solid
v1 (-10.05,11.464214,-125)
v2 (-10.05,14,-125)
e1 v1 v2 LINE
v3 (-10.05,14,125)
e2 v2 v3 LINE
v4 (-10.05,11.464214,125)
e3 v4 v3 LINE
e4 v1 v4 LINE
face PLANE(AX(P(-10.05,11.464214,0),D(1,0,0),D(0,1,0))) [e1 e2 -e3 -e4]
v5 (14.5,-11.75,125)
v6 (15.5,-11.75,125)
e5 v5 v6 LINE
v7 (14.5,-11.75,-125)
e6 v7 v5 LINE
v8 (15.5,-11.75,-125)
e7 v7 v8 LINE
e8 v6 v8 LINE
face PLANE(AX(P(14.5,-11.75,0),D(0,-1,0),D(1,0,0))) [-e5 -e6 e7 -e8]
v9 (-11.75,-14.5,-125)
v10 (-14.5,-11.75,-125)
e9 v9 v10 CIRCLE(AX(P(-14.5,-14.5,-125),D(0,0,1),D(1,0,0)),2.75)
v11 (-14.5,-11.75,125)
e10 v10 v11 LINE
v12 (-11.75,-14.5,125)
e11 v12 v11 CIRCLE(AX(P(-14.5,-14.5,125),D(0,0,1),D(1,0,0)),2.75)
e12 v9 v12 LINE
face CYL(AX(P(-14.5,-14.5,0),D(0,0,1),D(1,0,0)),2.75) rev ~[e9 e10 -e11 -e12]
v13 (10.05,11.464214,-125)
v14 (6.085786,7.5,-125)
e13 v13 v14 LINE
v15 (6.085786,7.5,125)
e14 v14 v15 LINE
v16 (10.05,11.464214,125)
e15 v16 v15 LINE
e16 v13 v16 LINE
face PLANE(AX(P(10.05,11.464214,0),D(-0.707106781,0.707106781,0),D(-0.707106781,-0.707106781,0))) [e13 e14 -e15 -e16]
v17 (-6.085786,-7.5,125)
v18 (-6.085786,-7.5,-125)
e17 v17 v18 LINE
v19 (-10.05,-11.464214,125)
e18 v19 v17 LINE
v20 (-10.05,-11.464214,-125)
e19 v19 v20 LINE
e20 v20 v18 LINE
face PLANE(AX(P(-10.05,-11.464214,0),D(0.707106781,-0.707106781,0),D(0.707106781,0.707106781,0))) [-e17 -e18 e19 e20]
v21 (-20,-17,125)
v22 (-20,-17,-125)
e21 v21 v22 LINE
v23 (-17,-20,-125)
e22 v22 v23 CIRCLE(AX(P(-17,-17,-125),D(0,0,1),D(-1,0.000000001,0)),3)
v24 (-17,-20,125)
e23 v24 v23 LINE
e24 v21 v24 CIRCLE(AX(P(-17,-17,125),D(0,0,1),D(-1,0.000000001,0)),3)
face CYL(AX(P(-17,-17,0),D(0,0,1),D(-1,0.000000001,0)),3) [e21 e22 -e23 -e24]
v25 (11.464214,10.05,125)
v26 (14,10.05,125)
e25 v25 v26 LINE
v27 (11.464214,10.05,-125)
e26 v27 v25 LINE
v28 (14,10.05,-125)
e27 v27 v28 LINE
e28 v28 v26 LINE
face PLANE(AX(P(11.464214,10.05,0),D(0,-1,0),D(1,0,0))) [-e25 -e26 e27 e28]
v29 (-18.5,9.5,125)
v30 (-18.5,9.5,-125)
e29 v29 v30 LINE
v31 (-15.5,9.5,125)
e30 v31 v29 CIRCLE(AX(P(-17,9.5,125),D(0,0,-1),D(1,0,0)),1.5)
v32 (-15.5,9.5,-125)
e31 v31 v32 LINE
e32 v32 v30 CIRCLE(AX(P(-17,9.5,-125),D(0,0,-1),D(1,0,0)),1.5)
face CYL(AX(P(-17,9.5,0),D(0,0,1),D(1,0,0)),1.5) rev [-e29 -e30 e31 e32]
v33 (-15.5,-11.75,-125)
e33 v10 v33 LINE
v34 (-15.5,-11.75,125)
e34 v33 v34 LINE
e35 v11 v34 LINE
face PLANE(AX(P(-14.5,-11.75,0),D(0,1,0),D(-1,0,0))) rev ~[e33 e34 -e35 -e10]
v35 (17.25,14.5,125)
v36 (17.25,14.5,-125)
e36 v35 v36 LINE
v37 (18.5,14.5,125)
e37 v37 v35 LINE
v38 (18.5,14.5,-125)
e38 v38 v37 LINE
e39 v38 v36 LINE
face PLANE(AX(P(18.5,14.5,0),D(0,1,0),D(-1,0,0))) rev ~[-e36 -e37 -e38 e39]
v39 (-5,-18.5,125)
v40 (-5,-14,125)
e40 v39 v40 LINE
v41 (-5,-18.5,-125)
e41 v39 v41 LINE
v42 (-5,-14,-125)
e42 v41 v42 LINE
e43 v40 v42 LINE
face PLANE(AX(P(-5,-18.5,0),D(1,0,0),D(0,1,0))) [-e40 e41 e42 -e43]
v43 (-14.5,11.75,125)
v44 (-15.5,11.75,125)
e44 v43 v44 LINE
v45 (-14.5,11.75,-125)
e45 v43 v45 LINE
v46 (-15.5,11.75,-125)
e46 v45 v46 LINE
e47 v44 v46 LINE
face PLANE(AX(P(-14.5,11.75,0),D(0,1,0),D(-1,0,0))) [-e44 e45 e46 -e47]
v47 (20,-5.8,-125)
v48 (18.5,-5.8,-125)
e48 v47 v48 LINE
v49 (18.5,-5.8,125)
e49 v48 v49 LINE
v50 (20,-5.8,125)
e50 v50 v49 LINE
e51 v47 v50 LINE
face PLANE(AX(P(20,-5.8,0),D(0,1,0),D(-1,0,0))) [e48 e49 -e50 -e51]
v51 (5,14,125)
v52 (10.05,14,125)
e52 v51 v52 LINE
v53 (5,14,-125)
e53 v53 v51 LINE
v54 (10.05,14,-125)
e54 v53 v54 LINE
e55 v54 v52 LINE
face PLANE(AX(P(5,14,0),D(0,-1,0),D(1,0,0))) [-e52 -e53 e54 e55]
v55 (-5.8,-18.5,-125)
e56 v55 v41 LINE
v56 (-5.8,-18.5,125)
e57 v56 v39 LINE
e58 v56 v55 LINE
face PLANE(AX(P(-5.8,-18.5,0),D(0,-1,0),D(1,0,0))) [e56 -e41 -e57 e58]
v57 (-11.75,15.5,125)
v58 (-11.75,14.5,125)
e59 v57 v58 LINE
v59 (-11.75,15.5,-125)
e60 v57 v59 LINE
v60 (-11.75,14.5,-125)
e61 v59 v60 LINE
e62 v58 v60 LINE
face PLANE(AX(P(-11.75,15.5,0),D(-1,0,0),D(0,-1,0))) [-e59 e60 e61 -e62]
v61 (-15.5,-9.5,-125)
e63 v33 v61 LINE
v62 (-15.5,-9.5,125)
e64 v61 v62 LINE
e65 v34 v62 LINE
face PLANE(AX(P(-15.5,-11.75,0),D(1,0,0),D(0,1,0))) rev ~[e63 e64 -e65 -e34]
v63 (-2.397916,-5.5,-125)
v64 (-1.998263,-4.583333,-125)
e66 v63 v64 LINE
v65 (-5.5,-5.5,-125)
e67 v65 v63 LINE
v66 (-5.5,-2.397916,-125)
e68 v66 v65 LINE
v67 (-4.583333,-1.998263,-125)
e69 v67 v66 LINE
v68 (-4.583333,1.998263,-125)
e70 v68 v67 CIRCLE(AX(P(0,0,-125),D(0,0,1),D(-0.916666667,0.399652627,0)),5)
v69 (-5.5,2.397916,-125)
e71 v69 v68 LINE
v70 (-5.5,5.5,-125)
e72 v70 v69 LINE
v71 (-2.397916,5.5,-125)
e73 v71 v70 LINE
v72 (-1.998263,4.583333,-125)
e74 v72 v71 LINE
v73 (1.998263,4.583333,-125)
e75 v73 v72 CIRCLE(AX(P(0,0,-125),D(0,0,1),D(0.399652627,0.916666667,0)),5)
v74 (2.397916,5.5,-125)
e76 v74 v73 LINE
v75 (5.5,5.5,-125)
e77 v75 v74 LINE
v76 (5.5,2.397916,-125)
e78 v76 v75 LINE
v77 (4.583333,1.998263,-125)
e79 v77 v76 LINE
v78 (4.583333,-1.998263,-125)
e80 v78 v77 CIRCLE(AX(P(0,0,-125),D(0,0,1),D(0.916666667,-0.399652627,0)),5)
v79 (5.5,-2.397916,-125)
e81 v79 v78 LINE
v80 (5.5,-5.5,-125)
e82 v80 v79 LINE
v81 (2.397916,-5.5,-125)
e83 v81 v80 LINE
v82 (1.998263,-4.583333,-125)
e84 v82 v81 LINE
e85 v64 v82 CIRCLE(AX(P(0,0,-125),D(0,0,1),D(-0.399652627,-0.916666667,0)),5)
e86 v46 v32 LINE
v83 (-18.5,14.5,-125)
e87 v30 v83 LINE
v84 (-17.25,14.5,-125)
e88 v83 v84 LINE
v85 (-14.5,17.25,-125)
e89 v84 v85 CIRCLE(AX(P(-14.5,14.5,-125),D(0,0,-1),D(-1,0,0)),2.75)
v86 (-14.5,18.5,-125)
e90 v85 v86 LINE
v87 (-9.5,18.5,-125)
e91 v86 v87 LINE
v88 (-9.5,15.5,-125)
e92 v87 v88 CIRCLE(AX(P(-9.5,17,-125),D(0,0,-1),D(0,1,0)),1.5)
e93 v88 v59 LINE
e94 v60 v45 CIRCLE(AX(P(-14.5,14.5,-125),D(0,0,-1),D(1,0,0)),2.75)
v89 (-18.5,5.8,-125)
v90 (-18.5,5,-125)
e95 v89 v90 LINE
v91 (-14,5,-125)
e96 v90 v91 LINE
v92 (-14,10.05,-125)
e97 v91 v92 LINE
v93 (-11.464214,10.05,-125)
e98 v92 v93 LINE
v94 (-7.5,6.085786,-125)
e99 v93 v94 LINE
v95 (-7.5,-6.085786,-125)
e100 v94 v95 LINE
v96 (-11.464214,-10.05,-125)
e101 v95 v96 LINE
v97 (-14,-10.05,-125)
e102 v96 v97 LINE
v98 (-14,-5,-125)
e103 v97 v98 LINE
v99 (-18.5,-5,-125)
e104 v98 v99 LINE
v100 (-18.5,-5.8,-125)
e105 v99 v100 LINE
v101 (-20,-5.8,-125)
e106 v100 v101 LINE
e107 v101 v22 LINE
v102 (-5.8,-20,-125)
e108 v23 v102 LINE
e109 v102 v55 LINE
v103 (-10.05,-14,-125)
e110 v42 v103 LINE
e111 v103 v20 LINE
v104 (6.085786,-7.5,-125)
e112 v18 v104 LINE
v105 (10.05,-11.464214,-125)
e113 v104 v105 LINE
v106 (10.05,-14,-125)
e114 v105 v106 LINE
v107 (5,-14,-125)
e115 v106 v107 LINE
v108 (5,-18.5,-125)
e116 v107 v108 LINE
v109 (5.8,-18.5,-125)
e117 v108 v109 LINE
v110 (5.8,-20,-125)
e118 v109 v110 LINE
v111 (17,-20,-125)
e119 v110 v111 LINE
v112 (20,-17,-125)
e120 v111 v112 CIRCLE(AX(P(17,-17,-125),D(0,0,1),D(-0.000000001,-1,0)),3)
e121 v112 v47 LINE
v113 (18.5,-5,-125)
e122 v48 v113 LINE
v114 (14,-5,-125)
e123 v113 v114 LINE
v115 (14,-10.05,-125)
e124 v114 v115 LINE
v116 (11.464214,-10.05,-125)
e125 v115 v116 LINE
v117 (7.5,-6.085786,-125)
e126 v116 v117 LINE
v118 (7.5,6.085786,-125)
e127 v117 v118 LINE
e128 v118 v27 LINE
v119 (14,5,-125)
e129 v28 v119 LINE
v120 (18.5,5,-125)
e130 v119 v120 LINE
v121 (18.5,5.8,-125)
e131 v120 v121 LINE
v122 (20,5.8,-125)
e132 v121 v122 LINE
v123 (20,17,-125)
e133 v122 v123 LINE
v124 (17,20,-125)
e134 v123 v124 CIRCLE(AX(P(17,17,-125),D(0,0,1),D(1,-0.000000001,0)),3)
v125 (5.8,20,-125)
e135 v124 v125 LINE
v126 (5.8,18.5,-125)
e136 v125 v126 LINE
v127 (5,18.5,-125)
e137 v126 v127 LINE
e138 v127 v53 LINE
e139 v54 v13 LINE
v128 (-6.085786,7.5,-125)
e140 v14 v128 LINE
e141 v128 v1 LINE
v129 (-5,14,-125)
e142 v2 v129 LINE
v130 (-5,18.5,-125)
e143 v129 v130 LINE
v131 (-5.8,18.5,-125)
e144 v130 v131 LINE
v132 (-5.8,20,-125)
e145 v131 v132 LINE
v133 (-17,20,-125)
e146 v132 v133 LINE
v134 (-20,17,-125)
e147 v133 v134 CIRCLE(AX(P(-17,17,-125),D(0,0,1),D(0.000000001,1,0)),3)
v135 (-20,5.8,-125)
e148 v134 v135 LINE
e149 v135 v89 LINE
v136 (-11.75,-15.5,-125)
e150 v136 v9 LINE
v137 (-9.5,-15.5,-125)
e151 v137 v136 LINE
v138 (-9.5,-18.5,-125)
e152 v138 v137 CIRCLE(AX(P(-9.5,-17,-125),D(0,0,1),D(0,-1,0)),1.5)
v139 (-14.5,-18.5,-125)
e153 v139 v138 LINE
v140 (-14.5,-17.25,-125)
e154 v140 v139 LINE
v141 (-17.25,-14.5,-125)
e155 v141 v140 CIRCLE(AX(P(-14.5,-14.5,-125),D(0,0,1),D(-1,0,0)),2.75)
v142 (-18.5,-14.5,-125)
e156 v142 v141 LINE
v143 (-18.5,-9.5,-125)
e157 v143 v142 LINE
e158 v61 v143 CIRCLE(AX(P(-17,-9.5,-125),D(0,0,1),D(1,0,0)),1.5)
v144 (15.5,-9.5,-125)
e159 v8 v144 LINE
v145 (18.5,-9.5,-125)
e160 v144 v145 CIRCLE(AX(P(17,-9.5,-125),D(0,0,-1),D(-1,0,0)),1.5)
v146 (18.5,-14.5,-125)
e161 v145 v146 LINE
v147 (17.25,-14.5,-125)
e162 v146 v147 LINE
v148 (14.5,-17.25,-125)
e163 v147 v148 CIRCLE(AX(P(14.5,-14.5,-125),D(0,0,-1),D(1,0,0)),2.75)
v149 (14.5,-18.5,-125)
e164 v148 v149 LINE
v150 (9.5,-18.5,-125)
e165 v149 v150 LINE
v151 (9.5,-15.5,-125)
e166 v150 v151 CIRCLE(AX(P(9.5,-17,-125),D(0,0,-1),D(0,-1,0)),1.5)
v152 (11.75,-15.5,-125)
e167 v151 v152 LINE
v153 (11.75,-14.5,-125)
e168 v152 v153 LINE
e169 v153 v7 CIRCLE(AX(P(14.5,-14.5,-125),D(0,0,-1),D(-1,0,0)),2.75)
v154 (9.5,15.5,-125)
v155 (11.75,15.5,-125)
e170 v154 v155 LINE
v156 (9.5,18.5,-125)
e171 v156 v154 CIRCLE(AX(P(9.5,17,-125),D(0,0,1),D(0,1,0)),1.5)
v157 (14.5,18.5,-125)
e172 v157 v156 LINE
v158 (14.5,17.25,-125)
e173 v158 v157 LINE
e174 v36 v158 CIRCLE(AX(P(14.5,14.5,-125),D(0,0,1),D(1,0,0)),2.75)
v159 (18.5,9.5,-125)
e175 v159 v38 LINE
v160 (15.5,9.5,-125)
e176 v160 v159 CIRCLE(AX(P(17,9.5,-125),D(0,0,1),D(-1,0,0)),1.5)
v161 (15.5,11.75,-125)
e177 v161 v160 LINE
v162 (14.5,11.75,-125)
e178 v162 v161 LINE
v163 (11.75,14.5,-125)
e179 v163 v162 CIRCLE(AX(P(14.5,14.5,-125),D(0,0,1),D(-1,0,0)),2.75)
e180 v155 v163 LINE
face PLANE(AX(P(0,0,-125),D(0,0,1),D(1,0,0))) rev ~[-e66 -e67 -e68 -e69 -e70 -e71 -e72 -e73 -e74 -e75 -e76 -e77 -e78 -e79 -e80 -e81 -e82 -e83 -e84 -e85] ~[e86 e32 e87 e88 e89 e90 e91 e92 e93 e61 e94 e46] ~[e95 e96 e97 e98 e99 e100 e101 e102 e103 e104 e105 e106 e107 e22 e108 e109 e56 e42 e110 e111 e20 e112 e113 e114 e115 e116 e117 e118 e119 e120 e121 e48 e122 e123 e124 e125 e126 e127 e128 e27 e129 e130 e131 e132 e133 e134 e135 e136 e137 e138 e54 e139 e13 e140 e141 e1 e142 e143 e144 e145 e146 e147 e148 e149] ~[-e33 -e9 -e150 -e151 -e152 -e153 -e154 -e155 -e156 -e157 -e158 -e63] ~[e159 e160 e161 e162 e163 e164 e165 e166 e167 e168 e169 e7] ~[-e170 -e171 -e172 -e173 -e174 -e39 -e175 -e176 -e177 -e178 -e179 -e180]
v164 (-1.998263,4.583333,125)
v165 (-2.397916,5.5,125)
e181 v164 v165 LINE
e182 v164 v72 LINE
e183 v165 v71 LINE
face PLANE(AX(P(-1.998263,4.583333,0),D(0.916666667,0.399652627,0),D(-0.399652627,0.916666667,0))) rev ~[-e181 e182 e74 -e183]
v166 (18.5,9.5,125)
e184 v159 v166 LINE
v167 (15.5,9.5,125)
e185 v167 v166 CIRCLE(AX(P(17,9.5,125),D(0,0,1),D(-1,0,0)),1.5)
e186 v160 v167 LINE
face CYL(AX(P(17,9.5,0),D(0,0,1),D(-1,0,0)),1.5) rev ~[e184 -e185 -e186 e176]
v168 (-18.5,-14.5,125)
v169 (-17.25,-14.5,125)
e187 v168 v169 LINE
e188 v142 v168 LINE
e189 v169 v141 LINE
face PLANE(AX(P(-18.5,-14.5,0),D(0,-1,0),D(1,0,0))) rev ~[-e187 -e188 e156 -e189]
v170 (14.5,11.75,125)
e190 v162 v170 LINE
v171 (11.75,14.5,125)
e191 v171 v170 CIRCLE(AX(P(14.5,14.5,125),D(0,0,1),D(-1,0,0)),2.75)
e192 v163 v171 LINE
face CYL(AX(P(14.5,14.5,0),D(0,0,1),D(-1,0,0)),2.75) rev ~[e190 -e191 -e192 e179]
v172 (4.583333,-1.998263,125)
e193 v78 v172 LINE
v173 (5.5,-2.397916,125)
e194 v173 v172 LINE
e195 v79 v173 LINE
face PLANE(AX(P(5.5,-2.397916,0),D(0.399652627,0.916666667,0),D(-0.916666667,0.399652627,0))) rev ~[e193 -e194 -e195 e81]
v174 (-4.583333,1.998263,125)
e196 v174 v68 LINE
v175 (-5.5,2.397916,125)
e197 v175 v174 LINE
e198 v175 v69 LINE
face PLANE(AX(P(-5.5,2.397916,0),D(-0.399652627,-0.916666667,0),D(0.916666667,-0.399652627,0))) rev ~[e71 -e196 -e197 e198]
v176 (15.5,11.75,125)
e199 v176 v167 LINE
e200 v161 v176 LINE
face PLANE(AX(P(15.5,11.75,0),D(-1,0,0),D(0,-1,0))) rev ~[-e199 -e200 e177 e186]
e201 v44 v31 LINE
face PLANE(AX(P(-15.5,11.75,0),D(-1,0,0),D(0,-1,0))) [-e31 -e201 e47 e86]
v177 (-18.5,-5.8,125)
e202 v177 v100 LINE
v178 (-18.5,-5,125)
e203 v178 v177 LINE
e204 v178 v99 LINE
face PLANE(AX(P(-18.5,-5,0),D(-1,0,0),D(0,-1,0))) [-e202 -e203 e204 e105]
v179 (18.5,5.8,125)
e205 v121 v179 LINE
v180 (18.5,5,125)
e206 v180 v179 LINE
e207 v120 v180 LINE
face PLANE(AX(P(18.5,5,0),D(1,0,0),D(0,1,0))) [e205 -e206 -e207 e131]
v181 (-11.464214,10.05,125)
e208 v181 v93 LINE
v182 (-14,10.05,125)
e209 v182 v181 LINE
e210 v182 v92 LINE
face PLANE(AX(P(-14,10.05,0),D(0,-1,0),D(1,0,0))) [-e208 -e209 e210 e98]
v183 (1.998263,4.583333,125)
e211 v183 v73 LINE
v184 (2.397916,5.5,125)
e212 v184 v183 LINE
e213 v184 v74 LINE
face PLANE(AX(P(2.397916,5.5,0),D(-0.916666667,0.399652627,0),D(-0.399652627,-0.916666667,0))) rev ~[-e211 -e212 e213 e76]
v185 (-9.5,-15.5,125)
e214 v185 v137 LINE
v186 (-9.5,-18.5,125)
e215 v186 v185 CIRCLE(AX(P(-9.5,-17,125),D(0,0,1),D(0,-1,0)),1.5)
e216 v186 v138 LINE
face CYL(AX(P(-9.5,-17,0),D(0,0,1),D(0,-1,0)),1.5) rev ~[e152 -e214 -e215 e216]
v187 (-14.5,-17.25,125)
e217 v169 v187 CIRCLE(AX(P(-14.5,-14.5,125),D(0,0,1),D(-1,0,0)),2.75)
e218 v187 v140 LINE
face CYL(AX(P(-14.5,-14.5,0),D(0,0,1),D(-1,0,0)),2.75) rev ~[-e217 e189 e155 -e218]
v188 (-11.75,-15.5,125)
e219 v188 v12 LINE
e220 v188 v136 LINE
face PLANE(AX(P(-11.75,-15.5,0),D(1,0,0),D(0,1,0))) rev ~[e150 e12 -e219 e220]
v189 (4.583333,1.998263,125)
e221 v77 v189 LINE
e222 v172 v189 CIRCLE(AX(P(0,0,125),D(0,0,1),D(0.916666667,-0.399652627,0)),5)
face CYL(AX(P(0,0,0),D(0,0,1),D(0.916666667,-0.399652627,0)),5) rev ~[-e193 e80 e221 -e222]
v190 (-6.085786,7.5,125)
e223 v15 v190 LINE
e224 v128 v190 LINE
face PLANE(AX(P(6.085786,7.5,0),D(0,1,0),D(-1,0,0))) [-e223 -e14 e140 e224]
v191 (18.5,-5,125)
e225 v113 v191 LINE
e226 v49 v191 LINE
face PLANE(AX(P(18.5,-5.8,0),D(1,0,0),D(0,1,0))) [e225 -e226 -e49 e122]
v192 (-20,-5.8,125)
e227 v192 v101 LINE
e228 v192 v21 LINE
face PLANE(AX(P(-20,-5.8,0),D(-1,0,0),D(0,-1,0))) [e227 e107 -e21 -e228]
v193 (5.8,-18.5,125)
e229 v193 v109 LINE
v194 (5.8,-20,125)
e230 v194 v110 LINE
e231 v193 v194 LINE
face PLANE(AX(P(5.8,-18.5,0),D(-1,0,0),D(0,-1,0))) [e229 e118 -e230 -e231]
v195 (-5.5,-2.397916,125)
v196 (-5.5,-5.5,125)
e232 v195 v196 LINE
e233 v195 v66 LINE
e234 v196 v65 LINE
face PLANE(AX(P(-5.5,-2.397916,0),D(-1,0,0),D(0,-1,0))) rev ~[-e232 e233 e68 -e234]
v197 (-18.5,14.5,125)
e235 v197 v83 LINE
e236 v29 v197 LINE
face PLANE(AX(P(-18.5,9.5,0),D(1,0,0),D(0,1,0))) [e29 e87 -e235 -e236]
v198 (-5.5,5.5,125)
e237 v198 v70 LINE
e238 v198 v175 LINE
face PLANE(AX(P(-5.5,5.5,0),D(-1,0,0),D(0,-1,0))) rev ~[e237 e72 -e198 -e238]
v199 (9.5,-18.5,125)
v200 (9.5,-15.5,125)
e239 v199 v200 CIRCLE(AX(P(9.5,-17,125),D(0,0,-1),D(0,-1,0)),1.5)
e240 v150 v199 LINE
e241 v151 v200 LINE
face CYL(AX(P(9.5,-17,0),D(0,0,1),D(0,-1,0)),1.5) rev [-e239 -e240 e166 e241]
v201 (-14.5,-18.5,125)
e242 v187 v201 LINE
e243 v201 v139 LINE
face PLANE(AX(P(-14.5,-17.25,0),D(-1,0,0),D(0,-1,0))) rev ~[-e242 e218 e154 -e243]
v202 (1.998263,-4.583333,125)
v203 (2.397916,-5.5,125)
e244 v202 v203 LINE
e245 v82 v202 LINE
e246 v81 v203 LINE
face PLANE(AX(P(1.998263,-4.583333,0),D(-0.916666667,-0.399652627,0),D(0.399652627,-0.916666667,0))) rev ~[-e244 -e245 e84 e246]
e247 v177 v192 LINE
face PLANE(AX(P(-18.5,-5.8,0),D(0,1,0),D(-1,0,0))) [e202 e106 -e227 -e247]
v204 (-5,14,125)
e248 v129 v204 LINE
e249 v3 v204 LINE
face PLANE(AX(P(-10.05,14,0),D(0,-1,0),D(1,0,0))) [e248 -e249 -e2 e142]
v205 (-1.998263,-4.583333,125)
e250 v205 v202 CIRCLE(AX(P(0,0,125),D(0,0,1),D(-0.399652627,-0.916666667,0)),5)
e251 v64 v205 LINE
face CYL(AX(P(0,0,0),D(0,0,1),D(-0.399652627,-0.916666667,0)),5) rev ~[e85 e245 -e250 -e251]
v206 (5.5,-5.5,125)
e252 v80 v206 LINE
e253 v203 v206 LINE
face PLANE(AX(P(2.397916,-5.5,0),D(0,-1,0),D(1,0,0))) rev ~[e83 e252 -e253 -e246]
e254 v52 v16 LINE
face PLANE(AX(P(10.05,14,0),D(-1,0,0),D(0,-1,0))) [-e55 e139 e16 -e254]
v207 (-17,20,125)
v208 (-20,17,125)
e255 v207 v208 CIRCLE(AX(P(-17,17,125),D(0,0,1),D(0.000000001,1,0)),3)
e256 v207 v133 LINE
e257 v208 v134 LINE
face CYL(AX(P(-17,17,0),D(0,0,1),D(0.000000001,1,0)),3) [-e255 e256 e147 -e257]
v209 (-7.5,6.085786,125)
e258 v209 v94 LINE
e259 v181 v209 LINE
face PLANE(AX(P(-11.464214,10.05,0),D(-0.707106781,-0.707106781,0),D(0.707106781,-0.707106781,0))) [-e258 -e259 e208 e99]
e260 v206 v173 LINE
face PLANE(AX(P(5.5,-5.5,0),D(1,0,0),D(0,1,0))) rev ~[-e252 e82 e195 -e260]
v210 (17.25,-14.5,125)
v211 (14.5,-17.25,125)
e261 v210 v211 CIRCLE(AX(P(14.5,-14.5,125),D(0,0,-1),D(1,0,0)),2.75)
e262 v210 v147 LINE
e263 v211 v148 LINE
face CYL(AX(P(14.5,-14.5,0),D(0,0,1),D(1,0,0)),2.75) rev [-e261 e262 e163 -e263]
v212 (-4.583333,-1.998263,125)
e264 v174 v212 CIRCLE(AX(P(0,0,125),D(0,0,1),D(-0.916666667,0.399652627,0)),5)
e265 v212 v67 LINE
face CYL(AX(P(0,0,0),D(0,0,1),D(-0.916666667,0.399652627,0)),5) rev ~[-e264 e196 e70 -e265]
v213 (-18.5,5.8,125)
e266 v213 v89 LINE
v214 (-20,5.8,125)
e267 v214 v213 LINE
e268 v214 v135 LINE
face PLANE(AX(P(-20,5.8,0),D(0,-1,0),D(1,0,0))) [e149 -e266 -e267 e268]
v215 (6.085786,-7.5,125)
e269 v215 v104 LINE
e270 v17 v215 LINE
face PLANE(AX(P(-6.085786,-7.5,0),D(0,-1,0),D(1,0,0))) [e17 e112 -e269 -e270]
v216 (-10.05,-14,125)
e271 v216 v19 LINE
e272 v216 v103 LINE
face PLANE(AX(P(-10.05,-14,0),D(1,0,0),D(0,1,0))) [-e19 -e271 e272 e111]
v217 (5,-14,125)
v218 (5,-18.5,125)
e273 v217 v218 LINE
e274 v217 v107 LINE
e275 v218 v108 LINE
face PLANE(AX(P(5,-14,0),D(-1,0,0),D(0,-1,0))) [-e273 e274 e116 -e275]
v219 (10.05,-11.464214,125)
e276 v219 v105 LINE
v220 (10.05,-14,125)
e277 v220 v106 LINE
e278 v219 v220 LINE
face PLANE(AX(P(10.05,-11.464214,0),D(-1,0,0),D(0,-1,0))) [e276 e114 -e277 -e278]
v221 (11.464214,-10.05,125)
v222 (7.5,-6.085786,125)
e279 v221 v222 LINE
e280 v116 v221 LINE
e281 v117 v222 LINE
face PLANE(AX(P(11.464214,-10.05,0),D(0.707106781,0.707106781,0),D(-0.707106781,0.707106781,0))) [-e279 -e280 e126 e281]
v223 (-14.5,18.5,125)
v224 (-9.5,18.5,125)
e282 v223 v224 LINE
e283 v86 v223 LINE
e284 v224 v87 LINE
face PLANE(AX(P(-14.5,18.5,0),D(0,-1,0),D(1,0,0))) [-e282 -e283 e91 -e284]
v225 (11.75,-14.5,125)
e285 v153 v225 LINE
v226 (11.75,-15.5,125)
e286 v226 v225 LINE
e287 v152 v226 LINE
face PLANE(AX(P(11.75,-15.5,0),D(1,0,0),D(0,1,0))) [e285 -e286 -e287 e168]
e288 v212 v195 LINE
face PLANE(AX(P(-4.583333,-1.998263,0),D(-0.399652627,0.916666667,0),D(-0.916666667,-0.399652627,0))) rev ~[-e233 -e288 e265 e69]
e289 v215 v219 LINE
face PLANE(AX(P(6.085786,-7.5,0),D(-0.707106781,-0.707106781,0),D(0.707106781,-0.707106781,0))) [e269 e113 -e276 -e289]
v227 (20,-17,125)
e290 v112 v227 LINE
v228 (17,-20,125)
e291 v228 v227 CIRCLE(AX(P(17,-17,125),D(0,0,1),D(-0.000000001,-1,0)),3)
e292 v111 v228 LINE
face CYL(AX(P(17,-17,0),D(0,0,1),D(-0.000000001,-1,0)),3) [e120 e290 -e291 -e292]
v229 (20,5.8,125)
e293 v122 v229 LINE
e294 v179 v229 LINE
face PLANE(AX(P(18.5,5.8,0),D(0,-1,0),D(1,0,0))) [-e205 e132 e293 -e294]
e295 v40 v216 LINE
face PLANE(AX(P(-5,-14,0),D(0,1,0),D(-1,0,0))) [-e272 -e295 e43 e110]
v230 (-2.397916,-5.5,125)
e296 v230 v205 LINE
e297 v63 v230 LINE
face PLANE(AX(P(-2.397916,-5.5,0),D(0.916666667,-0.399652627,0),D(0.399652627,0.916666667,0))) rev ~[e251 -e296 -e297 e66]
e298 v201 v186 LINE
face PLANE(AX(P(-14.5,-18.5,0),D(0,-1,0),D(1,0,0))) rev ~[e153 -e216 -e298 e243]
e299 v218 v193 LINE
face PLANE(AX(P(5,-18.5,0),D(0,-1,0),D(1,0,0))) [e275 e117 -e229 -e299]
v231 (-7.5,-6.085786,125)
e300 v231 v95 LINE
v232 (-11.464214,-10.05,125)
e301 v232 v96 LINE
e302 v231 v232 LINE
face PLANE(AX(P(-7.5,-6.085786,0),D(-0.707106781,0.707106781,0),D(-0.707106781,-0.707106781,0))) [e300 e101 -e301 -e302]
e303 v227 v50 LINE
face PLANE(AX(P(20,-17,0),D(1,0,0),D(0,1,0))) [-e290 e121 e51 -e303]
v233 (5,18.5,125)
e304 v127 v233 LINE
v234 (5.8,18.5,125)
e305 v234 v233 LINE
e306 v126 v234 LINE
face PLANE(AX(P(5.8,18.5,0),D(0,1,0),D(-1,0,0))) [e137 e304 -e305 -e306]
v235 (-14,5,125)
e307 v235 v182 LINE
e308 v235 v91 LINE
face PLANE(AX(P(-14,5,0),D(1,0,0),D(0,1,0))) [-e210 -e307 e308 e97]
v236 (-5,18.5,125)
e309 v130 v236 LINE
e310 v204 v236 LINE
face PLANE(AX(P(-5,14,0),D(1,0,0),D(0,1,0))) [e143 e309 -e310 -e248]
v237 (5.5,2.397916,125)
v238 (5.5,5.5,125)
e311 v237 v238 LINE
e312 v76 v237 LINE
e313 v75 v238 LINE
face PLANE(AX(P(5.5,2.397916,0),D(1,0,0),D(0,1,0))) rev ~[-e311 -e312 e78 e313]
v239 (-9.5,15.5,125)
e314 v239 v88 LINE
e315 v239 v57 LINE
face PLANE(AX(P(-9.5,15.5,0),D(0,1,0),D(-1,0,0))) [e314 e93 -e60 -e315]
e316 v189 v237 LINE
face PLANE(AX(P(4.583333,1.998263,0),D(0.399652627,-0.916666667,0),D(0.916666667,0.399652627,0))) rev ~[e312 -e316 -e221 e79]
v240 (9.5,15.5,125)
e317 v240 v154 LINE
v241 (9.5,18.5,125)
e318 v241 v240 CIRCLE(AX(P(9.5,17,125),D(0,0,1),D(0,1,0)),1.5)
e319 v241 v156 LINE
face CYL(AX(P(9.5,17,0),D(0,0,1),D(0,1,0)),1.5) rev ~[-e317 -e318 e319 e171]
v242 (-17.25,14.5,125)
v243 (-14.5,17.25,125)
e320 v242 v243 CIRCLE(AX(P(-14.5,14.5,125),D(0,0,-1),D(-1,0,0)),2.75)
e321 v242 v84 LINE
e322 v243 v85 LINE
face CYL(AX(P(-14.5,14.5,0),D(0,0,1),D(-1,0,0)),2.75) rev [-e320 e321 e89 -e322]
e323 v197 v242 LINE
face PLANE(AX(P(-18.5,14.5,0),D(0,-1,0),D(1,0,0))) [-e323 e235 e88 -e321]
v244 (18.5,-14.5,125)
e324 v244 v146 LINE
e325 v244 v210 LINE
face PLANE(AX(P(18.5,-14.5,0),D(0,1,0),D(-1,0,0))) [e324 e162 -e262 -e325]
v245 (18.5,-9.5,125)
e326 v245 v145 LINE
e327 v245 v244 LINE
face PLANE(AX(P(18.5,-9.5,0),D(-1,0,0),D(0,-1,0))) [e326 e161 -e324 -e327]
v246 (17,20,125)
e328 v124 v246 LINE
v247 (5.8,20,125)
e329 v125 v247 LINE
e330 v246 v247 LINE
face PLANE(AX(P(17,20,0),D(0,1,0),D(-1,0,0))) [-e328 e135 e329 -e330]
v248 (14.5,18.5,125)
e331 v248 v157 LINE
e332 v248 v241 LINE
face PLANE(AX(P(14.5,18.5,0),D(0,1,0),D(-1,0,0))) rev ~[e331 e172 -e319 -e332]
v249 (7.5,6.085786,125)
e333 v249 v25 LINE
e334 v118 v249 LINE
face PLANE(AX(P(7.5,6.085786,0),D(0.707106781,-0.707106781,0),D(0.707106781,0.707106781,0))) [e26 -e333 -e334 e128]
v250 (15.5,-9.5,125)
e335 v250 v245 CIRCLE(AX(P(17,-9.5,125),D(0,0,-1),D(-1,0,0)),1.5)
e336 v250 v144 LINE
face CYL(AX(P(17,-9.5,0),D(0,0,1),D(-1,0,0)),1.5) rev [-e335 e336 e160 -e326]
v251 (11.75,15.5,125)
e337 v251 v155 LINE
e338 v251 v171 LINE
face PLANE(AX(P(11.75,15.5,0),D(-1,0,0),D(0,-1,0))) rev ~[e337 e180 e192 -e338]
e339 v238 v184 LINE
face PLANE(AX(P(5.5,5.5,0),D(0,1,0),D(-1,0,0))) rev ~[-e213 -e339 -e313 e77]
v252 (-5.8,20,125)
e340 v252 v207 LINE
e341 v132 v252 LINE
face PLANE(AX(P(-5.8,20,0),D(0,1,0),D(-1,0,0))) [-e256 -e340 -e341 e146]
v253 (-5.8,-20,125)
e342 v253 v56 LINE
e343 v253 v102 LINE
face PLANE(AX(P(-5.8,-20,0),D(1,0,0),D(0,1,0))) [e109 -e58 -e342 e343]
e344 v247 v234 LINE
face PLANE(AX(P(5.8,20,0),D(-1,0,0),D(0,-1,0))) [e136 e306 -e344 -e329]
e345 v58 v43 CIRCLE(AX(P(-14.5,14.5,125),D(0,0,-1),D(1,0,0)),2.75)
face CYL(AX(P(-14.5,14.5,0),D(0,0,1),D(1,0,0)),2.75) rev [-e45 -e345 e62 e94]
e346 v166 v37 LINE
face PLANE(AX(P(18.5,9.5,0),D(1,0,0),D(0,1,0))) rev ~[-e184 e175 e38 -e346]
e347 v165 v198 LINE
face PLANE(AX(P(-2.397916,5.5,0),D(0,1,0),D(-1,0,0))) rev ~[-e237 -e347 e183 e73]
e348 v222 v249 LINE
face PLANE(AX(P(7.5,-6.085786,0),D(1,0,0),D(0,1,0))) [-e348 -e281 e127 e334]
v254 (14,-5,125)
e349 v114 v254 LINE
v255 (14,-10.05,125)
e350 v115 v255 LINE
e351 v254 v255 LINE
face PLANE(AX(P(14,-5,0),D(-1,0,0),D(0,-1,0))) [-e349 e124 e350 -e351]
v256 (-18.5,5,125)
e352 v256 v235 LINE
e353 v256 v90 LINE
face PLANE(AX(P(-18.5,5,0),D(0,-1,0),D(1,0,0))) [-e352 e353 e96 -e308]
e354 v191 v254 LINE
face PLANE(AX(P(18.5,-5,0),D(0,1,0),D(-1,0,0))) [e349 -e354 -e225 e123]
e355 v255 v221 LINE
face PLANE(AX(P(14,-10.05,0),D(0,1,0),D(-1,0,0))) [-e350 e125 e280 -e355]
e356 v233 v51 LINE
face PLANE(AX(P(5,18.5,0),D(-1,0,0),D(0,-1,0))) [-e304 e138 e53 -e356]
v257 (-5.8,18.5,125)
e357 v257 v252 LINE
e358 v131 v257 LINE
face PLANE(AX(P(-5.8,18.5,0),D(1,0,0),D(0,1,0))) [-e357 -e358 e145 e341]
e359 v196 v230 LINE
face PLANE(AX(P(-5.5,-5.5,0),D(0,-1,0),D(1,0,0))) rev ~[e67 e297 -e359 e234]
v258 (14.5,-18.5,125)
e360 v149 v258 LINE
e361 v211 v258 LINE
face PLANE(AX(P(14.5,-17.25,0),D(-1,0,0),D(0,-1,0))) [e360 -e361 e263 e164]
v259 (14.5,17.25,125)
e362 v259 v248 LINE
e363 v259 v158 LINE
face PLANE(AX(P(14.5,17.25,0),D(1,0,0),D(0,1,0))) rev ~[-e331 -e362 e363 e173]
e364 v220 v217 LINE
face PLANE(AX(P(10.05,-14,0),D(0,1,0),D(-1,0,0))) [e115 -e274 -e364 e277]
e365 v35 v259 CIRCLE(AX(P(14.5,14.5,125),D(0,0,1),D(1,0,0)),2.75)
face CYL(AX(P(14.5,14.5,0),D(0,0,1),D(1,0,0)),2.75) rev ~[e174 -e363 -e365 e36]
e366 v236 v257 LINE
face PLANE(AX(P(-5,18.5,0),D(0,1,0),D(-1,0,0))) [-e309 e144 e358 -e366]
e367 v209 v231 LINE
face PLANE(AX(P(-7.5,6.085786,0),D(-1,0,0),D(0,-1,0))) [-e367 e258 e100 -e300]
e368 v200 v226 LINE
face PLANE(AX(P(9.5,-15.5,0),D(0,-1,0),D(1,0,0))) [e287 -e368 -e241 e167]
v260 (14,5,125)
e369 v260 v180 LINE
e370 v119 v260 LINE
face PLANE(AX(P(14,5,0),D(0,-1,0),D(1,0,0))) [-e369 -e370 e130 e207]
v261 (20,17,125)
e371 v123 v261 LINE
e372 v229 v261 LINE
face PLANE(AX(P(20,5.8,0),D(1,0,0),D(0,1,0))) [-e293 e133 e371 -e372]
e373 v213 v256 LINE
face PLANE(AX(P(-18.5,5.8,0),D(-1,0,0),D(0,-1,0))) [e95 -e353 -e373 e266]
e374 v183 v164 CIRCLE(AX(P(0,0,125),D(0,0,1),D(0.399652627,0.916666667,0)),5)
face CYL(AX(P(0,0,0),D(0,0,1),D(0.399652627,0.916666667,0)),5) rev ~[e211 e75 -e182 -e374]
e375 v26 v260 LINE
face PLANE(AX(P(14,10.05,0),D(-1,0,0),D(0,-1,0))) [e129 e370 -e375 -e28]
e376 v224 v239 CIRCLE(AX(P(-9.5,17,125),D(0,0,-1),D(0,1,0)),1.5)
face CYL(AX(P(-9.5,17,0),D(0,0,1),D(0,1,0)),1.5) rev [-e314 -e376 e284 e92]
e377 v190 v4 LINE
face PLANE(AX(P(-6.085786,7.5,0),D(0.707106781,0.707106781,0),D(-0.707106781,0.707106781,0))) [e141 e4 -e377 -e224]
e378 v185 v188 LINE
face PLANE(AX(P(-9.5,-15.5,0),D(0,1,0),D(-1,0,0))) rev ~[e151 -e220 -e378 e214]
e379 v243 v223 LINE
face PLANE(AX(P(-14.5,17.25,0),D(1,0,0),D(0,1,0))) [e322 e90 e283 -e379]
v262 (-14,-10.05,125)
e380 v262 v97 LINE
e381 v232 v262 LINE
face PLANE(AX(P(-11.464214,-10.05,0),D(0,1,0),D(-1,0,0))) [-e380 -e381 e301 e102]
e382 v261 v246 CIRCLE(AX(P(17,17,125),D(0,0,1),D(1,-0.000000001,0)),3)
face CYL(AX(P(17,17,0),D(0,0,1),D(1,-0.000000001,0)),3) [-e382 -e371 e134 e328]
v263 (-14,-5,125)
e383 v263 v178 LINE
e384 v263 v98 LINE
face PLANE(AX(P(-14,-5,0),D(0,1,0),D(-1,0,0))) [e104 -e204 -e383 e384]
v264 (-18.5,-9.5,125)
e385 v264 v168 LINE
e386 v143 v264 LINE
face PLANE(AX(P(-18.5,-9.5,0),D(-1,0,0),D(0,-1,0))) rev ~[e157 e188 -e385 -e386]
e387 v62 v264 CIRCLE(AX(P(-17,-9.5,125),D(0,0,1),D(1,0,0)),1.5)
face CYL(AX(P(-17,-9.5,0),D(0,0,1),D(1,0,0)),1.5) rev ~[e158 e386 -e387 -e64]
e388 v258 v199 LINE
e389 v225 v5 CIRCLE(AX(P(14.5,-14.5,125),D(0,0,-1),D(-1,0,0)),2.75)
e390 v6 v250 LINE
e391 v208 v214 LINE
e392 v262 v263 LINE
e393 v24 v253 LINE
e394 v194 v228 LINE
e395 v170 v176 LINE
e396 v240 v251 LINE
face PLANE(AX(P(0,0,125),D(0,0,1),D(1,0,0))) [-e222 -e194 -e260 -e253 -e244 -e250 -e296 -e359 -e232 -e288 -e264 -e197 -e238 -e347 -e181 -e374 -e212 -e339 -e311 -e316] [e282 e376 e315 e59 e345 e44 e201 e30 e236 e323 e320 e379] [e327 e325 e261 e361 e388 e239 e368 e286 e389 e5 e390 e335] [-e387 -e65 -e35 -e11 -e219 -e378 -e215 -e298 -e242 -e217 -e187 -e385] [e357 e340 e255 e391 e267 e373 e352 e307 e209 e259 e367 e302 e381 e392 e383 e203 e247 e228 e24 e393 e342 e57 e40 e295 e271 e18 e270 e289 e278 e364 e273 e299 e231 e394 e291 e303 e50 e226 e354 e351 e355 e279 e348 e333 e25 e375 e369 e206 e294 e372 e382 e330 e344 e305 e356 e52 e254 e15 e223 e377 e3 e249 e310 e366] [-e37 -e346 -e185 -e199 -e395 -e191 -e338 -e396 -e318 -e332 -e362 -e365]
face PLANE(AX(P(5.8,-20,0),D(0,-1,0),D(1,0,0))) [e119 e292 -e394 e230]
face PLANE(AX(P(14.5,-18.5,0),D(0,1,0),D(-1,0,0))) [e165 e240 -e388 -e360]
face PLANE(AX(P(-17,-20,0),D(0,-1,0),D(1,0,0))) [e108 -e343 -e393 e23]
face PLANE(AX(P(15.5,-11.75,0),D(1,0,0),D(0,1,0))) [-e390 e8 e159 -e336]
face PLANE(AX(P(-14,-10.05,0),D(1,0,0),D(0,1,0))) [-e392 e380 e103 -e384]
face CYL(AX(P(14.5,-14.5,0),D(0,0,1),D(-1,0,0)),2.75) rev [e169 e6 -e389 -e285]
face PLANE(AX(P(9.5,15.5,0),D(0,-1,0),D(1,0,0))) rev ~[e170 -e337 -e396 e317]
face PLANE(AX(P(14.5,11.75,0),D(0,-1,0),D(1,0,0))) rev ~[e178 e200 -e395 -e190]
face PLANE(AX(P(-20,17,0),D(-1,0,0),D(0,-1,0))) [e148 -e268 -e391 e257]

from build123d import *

# Parameters (mm, degrees)
EXTRUDE1_DEPTH = 125


with BuildPart() as part:
    # Sketch1 → Extrude1 (new body, symmetric)
    with BuildSketch(Plane.XY):
        with BuildLine():
            Line((5.8, -20), (17, -20))
            ThreePointArc((17, -20), (19.121320344, -19.121320344), (20, -17))
            Line((20, -17), (20, -5.8))
            Line((20, -5.8), (18.5, -5.8))
            Line((18.5, -5.8), (18.5, -5))
            Line((18.5, -5), (14, -5))
            Line((14, -5), (14, -10.05))
            Line((14, -10.05), (11.464213562, -10.05))
            Line((11.464213562, -10.05), (7.5, -6.085786438))
            Line((7.5, -6.085786438), (7.5, 6.085786438))
            Line((7.5, 6.085786438), (11.464213562, 10.05))
            Line((11.464213562, 10.05), (14, 10.05))
            Line((14, 10.05), (14, 5))
            Line((14, 5), (18.5, 5))
            Line((18.5, 5), (18.5, 5.8))
            Line((18.5, 5.8), (20, 5.8))
            Line((20, 5.8), (20, 17))
            ThreePointArc((20, 17), (19.121320344, 19.121320344), (17, 20))
            Line((17, 20), (5.8, 20))
            Line((5.8, 20), (5.8, 18.5))
            Line((5.8, 18.5), (5, 18.5))
            Line((5, 18.5), (5, 14))
            Line((5, 14), (10.05, 14))
            Line((10.05, 14), (10.05, 11.464213562))
            Line((10.05, 11.464213562), (6.085786438, 7.5))
            Line((6.085786438, 7.5), (-6.085786438, 7.5))
            Line((-6.085786438, 7.5), (-10.05, 11.464213562))
            Line((-10.05, 11.464213562), (-10.05, 14))
            Line((-10.05, 14), (-5, 14))
            Line((-5, 14), (-5, 18.5))
            Line((-5, 18.5), (-5.8, 18.5))
            Line((-5.8, 18.5), (-5.8, 20))
            Line((-5.8, 20), (-17, 20))
            ThreePointArc((-17, 20), (-19.121320344, 19.121320344), (-20, 17))
            Line((-20, 17), (-20, 5.8))
            Line((-20, 5.8), (-18.5, 5.8))
            Line((-18.5, 5.8), (-18.5, 5))
            Line((-18.5, 5), (-14, 5))
            Line((-14, 5), (-14, 10.05))
            Line((-14, 10.05), (-11.464213562, 10.05))
            Line((-11.464213562, 10.05), (-7.5, 6.085786438))
            Line((-7.5, 6.085786438), (-7.5, -6.085786438))
            Line((-7.5, -6.085786438), (-11.464213562, -10.05))
            Line((-11.464213562, -10.05), (-14, -10.05))
            Line((-14, -10.05), (-14, -5))
            Line((-14, -5), (-18.5, -5))
            Line((-18.5, -5), (-18.5, -5.8))
            Line((-18.5, -5.8), (-20, -5.8))
            Line((-20, -5.8), (-20, -17))
            ThreePointArc((-20, -17), (-19.121320344, -19.121320344), (-17, -20))
            Line((-17, -20), (-5.8, -20))
            Line((-5.8, -20), (-5.8, -18.5))
            Line((-5.8, -18.5), (-5, -18.5))
            Line((-5, -18.5), (-5, -14))
            Line((-5, -14), (-10.05, -14))
            Line((-10.05, -14), (-10.05, -11.464213562))
            Line((-10.05, -11.464213562), (-6.085786438, -7.5))
            Line((-6.085786438, -7.5), (6.085786438, -7.5))
            Line((6.085786438, -7.5), (10.05, -11.464213562))
            Line((10.05, -11.464213562), (10.05, -14))
            Line((10.05, -14), (5, -14))
            Line((5, -14), (5, -18.5))
            Line((5, -18.5), (5.8, -18.5))
            Line((5.8, -18.5), (5.8, -20))
        make_face()
        with BuildLine():
            Line((14.5, -18.5), (9.5, -18.5))
            ThreePointArc((9.5, -18.5), (8, -17), (9.5, -15.5))
            Line((9.5, -15.5), (11.75, -15.5))
            Line((11.75, -15.5), (11.75, -14.5))
            ThreePointArc((11.75, -14.5), (12.555456352, -12.555456352), (14.5, -11.75))
            Line((14.5, -11.75), (15.5, -11.75))
            Line((15.5, -11.75), (15.5, -9.5))
            ThreePointArc((15.5, -9.5), (17, -8), (18.5, -9.5))
            Line((18.5, -9.5), (18.5, -14.5))
            Line((18.5, -14.5), (17.25, -14.5))
            ThreePointArc((17.25, -14.5), (16.444543648, -16.444543648), (14.5, -17.25))
            Line((14.5, -17.25), (14.5, -18.5))
        make_face(mode=Mode.SUBTRACT)
        with BuildLine():
            Line((18.5, 14.5), (17.25, 14.5))
            ThreePointArc((17.25, 14.5), (16.444543648, 16.444543648), (14.5, 17.25))
            Line((14.5, 17.25), (14.5, 18.5))
            Line((14.5, 18.5), (9.5, 18.5))
            ThreePointArc((9.5, 18.5), (8, 17), (9.5, 15.5))
            Line((9.5, 15.5), (11.75, 15.5))
            Line((11.75, 15.5), (11.75, 14.5))
            ThreePointArc((11.75, 14.5), (12.555456352, 12.555456352), (14.5, 11.75))
            Line((14.5, 11.75), (15.5, 11.75))
            Line((15.5, 11.75), (15.5, 9.5))
            ThreePointArc((15.5, 9.5), (17, 8), (18.5, 9.5))
            Line((18.5, 9.5), (18.5, 14.5))
        make_face(mode=Mode.SUBTRACT)
        with BuildLine():
            Line((5.5, 5.5), (2.397915762, 5.5))
            Line((2.397915762, 5.5), (1.998263135, 4.583333333))
            ThreePointArc((1.998263135, 4.583333333), (0, 5), (-1.998263135, 4.583333333))
            Line((-1.998263135, 4.583333333), (-2.397915762, 5.5))
            Line((-2.397915762, 5.5), (-5.5, 5.5))
            Line((-5.5, 5.5), (-5.5, 2.397915762))
            Line((-5.5, 2.397915762), (-4.583333333, 1.998263135))
            ThreePointArc((-4.583333333, 1.998263135), (-5, 0), (-4.583333333, -1.998263135))
            Line((-4.583333333, -1.998263135), (-5.5, -2.397915762))
            Line((-5.5, -2.397915762), (-5.5, -5.5))
            Line((-5.5, -5.5), (-2.397915762, -5.5))
            Line((-2.397915762, -5.5), (-1.998263135, -4.583333333))
            ThreePointArc((-1.998263135, -4.583333333), (0, -5), (1.998263135, -4.583333333))
            Line((1.998263135, -4.583333333), (2.397915762, -5.5))
            Line((2.397915762, -5.5), (5.5, -5.5))
            Line((5.5, -5.5), (5.5, -2.397915762))
            Line((5.5, -2.397915762), (4.583333333, -1.998263135))
            ThreePointArc((4.583333333, -1.998263135), (5, 0), (4.583333333, 1.998263135))
            Line((4.583333333, 1.998263135), (5.5, 2.397915762))
            Line((5.5, 2.397915762), (5.5, 5.5))
        make_face(mode=Mode.SUBTRACT)
        with BuildLine():
            Line((-18.5, -14.5), (-17.25, -14.5))
            ThreePointArc((-17.25, -14.5), (-16.444543648, -16.444543648), (-14.5, -17.25))
            Line((-14.5, -17.25), (-14.5, -18.5))
            Line((-14.5, -18.5), (-9.5, -18.5))
            ThreePointArc((-9.5, -18.5), (-8, -17), (-9.5, -15.5))
            Line((-9.5, -15.5), (-11.75, -15.5))
            Line((-11.75, -15.5), (-11.75, -14.5))
            ThreePointArc((-11.75, -14.5), (-12.555456352, -12.555456352), (-14.5, -11.75))
            Line((-14.5, -11.75), (-15.5, -11.75))
            Line((-15.5, -11.75), (-15.5, -9.5))
            ThreePointArc((-15.5, -9.5), (-17, -8), (-18.5, -9.5))
            Line((-18.5, -9.5), (-18.5, -14.5))
        make_face(mode=Mode.SUBTRACT)
        with BuildLine():
            Line((-14.5, 18.5), (-9.5, 18.5))
            ThreePointArc((-9.5, 18.5), (-8, 17), (-9.5, 15.5))
            Line((-9.5, 15.5), (-11.75, 15.5))
            Line((-11.75, 15.5), (-11.75, 14.5))
            ThreePointArc((-11.75, 14.5), (-12.555456352, 12.555456352), (-14.5, 11.75))
            Line((-14.5, 11.75), (-15.5, 11.75))
            Line((-15.5, 11.75), (-15.5, 9.5))
            ThreePointArc((-15.5, 9.5), (-17, 8), (-18.5, 9.5))
            Line((-18.5, 9.5), (-18.5, 14.5))
            Line((-18.5, 14.5), (-17.25, 14.5))
            ThreePointArc((-17.25, 14.5), (-16.444543648, 16.444543648), (-14.5, 17.25))
            Line((-14.5, 17.25), (-14.5, 18.5))
        make_face(mode=Mode.SUBTRACT)
    extrude(amount=EXTRUDE1_DEPTH, both=True)


solid = part.part
